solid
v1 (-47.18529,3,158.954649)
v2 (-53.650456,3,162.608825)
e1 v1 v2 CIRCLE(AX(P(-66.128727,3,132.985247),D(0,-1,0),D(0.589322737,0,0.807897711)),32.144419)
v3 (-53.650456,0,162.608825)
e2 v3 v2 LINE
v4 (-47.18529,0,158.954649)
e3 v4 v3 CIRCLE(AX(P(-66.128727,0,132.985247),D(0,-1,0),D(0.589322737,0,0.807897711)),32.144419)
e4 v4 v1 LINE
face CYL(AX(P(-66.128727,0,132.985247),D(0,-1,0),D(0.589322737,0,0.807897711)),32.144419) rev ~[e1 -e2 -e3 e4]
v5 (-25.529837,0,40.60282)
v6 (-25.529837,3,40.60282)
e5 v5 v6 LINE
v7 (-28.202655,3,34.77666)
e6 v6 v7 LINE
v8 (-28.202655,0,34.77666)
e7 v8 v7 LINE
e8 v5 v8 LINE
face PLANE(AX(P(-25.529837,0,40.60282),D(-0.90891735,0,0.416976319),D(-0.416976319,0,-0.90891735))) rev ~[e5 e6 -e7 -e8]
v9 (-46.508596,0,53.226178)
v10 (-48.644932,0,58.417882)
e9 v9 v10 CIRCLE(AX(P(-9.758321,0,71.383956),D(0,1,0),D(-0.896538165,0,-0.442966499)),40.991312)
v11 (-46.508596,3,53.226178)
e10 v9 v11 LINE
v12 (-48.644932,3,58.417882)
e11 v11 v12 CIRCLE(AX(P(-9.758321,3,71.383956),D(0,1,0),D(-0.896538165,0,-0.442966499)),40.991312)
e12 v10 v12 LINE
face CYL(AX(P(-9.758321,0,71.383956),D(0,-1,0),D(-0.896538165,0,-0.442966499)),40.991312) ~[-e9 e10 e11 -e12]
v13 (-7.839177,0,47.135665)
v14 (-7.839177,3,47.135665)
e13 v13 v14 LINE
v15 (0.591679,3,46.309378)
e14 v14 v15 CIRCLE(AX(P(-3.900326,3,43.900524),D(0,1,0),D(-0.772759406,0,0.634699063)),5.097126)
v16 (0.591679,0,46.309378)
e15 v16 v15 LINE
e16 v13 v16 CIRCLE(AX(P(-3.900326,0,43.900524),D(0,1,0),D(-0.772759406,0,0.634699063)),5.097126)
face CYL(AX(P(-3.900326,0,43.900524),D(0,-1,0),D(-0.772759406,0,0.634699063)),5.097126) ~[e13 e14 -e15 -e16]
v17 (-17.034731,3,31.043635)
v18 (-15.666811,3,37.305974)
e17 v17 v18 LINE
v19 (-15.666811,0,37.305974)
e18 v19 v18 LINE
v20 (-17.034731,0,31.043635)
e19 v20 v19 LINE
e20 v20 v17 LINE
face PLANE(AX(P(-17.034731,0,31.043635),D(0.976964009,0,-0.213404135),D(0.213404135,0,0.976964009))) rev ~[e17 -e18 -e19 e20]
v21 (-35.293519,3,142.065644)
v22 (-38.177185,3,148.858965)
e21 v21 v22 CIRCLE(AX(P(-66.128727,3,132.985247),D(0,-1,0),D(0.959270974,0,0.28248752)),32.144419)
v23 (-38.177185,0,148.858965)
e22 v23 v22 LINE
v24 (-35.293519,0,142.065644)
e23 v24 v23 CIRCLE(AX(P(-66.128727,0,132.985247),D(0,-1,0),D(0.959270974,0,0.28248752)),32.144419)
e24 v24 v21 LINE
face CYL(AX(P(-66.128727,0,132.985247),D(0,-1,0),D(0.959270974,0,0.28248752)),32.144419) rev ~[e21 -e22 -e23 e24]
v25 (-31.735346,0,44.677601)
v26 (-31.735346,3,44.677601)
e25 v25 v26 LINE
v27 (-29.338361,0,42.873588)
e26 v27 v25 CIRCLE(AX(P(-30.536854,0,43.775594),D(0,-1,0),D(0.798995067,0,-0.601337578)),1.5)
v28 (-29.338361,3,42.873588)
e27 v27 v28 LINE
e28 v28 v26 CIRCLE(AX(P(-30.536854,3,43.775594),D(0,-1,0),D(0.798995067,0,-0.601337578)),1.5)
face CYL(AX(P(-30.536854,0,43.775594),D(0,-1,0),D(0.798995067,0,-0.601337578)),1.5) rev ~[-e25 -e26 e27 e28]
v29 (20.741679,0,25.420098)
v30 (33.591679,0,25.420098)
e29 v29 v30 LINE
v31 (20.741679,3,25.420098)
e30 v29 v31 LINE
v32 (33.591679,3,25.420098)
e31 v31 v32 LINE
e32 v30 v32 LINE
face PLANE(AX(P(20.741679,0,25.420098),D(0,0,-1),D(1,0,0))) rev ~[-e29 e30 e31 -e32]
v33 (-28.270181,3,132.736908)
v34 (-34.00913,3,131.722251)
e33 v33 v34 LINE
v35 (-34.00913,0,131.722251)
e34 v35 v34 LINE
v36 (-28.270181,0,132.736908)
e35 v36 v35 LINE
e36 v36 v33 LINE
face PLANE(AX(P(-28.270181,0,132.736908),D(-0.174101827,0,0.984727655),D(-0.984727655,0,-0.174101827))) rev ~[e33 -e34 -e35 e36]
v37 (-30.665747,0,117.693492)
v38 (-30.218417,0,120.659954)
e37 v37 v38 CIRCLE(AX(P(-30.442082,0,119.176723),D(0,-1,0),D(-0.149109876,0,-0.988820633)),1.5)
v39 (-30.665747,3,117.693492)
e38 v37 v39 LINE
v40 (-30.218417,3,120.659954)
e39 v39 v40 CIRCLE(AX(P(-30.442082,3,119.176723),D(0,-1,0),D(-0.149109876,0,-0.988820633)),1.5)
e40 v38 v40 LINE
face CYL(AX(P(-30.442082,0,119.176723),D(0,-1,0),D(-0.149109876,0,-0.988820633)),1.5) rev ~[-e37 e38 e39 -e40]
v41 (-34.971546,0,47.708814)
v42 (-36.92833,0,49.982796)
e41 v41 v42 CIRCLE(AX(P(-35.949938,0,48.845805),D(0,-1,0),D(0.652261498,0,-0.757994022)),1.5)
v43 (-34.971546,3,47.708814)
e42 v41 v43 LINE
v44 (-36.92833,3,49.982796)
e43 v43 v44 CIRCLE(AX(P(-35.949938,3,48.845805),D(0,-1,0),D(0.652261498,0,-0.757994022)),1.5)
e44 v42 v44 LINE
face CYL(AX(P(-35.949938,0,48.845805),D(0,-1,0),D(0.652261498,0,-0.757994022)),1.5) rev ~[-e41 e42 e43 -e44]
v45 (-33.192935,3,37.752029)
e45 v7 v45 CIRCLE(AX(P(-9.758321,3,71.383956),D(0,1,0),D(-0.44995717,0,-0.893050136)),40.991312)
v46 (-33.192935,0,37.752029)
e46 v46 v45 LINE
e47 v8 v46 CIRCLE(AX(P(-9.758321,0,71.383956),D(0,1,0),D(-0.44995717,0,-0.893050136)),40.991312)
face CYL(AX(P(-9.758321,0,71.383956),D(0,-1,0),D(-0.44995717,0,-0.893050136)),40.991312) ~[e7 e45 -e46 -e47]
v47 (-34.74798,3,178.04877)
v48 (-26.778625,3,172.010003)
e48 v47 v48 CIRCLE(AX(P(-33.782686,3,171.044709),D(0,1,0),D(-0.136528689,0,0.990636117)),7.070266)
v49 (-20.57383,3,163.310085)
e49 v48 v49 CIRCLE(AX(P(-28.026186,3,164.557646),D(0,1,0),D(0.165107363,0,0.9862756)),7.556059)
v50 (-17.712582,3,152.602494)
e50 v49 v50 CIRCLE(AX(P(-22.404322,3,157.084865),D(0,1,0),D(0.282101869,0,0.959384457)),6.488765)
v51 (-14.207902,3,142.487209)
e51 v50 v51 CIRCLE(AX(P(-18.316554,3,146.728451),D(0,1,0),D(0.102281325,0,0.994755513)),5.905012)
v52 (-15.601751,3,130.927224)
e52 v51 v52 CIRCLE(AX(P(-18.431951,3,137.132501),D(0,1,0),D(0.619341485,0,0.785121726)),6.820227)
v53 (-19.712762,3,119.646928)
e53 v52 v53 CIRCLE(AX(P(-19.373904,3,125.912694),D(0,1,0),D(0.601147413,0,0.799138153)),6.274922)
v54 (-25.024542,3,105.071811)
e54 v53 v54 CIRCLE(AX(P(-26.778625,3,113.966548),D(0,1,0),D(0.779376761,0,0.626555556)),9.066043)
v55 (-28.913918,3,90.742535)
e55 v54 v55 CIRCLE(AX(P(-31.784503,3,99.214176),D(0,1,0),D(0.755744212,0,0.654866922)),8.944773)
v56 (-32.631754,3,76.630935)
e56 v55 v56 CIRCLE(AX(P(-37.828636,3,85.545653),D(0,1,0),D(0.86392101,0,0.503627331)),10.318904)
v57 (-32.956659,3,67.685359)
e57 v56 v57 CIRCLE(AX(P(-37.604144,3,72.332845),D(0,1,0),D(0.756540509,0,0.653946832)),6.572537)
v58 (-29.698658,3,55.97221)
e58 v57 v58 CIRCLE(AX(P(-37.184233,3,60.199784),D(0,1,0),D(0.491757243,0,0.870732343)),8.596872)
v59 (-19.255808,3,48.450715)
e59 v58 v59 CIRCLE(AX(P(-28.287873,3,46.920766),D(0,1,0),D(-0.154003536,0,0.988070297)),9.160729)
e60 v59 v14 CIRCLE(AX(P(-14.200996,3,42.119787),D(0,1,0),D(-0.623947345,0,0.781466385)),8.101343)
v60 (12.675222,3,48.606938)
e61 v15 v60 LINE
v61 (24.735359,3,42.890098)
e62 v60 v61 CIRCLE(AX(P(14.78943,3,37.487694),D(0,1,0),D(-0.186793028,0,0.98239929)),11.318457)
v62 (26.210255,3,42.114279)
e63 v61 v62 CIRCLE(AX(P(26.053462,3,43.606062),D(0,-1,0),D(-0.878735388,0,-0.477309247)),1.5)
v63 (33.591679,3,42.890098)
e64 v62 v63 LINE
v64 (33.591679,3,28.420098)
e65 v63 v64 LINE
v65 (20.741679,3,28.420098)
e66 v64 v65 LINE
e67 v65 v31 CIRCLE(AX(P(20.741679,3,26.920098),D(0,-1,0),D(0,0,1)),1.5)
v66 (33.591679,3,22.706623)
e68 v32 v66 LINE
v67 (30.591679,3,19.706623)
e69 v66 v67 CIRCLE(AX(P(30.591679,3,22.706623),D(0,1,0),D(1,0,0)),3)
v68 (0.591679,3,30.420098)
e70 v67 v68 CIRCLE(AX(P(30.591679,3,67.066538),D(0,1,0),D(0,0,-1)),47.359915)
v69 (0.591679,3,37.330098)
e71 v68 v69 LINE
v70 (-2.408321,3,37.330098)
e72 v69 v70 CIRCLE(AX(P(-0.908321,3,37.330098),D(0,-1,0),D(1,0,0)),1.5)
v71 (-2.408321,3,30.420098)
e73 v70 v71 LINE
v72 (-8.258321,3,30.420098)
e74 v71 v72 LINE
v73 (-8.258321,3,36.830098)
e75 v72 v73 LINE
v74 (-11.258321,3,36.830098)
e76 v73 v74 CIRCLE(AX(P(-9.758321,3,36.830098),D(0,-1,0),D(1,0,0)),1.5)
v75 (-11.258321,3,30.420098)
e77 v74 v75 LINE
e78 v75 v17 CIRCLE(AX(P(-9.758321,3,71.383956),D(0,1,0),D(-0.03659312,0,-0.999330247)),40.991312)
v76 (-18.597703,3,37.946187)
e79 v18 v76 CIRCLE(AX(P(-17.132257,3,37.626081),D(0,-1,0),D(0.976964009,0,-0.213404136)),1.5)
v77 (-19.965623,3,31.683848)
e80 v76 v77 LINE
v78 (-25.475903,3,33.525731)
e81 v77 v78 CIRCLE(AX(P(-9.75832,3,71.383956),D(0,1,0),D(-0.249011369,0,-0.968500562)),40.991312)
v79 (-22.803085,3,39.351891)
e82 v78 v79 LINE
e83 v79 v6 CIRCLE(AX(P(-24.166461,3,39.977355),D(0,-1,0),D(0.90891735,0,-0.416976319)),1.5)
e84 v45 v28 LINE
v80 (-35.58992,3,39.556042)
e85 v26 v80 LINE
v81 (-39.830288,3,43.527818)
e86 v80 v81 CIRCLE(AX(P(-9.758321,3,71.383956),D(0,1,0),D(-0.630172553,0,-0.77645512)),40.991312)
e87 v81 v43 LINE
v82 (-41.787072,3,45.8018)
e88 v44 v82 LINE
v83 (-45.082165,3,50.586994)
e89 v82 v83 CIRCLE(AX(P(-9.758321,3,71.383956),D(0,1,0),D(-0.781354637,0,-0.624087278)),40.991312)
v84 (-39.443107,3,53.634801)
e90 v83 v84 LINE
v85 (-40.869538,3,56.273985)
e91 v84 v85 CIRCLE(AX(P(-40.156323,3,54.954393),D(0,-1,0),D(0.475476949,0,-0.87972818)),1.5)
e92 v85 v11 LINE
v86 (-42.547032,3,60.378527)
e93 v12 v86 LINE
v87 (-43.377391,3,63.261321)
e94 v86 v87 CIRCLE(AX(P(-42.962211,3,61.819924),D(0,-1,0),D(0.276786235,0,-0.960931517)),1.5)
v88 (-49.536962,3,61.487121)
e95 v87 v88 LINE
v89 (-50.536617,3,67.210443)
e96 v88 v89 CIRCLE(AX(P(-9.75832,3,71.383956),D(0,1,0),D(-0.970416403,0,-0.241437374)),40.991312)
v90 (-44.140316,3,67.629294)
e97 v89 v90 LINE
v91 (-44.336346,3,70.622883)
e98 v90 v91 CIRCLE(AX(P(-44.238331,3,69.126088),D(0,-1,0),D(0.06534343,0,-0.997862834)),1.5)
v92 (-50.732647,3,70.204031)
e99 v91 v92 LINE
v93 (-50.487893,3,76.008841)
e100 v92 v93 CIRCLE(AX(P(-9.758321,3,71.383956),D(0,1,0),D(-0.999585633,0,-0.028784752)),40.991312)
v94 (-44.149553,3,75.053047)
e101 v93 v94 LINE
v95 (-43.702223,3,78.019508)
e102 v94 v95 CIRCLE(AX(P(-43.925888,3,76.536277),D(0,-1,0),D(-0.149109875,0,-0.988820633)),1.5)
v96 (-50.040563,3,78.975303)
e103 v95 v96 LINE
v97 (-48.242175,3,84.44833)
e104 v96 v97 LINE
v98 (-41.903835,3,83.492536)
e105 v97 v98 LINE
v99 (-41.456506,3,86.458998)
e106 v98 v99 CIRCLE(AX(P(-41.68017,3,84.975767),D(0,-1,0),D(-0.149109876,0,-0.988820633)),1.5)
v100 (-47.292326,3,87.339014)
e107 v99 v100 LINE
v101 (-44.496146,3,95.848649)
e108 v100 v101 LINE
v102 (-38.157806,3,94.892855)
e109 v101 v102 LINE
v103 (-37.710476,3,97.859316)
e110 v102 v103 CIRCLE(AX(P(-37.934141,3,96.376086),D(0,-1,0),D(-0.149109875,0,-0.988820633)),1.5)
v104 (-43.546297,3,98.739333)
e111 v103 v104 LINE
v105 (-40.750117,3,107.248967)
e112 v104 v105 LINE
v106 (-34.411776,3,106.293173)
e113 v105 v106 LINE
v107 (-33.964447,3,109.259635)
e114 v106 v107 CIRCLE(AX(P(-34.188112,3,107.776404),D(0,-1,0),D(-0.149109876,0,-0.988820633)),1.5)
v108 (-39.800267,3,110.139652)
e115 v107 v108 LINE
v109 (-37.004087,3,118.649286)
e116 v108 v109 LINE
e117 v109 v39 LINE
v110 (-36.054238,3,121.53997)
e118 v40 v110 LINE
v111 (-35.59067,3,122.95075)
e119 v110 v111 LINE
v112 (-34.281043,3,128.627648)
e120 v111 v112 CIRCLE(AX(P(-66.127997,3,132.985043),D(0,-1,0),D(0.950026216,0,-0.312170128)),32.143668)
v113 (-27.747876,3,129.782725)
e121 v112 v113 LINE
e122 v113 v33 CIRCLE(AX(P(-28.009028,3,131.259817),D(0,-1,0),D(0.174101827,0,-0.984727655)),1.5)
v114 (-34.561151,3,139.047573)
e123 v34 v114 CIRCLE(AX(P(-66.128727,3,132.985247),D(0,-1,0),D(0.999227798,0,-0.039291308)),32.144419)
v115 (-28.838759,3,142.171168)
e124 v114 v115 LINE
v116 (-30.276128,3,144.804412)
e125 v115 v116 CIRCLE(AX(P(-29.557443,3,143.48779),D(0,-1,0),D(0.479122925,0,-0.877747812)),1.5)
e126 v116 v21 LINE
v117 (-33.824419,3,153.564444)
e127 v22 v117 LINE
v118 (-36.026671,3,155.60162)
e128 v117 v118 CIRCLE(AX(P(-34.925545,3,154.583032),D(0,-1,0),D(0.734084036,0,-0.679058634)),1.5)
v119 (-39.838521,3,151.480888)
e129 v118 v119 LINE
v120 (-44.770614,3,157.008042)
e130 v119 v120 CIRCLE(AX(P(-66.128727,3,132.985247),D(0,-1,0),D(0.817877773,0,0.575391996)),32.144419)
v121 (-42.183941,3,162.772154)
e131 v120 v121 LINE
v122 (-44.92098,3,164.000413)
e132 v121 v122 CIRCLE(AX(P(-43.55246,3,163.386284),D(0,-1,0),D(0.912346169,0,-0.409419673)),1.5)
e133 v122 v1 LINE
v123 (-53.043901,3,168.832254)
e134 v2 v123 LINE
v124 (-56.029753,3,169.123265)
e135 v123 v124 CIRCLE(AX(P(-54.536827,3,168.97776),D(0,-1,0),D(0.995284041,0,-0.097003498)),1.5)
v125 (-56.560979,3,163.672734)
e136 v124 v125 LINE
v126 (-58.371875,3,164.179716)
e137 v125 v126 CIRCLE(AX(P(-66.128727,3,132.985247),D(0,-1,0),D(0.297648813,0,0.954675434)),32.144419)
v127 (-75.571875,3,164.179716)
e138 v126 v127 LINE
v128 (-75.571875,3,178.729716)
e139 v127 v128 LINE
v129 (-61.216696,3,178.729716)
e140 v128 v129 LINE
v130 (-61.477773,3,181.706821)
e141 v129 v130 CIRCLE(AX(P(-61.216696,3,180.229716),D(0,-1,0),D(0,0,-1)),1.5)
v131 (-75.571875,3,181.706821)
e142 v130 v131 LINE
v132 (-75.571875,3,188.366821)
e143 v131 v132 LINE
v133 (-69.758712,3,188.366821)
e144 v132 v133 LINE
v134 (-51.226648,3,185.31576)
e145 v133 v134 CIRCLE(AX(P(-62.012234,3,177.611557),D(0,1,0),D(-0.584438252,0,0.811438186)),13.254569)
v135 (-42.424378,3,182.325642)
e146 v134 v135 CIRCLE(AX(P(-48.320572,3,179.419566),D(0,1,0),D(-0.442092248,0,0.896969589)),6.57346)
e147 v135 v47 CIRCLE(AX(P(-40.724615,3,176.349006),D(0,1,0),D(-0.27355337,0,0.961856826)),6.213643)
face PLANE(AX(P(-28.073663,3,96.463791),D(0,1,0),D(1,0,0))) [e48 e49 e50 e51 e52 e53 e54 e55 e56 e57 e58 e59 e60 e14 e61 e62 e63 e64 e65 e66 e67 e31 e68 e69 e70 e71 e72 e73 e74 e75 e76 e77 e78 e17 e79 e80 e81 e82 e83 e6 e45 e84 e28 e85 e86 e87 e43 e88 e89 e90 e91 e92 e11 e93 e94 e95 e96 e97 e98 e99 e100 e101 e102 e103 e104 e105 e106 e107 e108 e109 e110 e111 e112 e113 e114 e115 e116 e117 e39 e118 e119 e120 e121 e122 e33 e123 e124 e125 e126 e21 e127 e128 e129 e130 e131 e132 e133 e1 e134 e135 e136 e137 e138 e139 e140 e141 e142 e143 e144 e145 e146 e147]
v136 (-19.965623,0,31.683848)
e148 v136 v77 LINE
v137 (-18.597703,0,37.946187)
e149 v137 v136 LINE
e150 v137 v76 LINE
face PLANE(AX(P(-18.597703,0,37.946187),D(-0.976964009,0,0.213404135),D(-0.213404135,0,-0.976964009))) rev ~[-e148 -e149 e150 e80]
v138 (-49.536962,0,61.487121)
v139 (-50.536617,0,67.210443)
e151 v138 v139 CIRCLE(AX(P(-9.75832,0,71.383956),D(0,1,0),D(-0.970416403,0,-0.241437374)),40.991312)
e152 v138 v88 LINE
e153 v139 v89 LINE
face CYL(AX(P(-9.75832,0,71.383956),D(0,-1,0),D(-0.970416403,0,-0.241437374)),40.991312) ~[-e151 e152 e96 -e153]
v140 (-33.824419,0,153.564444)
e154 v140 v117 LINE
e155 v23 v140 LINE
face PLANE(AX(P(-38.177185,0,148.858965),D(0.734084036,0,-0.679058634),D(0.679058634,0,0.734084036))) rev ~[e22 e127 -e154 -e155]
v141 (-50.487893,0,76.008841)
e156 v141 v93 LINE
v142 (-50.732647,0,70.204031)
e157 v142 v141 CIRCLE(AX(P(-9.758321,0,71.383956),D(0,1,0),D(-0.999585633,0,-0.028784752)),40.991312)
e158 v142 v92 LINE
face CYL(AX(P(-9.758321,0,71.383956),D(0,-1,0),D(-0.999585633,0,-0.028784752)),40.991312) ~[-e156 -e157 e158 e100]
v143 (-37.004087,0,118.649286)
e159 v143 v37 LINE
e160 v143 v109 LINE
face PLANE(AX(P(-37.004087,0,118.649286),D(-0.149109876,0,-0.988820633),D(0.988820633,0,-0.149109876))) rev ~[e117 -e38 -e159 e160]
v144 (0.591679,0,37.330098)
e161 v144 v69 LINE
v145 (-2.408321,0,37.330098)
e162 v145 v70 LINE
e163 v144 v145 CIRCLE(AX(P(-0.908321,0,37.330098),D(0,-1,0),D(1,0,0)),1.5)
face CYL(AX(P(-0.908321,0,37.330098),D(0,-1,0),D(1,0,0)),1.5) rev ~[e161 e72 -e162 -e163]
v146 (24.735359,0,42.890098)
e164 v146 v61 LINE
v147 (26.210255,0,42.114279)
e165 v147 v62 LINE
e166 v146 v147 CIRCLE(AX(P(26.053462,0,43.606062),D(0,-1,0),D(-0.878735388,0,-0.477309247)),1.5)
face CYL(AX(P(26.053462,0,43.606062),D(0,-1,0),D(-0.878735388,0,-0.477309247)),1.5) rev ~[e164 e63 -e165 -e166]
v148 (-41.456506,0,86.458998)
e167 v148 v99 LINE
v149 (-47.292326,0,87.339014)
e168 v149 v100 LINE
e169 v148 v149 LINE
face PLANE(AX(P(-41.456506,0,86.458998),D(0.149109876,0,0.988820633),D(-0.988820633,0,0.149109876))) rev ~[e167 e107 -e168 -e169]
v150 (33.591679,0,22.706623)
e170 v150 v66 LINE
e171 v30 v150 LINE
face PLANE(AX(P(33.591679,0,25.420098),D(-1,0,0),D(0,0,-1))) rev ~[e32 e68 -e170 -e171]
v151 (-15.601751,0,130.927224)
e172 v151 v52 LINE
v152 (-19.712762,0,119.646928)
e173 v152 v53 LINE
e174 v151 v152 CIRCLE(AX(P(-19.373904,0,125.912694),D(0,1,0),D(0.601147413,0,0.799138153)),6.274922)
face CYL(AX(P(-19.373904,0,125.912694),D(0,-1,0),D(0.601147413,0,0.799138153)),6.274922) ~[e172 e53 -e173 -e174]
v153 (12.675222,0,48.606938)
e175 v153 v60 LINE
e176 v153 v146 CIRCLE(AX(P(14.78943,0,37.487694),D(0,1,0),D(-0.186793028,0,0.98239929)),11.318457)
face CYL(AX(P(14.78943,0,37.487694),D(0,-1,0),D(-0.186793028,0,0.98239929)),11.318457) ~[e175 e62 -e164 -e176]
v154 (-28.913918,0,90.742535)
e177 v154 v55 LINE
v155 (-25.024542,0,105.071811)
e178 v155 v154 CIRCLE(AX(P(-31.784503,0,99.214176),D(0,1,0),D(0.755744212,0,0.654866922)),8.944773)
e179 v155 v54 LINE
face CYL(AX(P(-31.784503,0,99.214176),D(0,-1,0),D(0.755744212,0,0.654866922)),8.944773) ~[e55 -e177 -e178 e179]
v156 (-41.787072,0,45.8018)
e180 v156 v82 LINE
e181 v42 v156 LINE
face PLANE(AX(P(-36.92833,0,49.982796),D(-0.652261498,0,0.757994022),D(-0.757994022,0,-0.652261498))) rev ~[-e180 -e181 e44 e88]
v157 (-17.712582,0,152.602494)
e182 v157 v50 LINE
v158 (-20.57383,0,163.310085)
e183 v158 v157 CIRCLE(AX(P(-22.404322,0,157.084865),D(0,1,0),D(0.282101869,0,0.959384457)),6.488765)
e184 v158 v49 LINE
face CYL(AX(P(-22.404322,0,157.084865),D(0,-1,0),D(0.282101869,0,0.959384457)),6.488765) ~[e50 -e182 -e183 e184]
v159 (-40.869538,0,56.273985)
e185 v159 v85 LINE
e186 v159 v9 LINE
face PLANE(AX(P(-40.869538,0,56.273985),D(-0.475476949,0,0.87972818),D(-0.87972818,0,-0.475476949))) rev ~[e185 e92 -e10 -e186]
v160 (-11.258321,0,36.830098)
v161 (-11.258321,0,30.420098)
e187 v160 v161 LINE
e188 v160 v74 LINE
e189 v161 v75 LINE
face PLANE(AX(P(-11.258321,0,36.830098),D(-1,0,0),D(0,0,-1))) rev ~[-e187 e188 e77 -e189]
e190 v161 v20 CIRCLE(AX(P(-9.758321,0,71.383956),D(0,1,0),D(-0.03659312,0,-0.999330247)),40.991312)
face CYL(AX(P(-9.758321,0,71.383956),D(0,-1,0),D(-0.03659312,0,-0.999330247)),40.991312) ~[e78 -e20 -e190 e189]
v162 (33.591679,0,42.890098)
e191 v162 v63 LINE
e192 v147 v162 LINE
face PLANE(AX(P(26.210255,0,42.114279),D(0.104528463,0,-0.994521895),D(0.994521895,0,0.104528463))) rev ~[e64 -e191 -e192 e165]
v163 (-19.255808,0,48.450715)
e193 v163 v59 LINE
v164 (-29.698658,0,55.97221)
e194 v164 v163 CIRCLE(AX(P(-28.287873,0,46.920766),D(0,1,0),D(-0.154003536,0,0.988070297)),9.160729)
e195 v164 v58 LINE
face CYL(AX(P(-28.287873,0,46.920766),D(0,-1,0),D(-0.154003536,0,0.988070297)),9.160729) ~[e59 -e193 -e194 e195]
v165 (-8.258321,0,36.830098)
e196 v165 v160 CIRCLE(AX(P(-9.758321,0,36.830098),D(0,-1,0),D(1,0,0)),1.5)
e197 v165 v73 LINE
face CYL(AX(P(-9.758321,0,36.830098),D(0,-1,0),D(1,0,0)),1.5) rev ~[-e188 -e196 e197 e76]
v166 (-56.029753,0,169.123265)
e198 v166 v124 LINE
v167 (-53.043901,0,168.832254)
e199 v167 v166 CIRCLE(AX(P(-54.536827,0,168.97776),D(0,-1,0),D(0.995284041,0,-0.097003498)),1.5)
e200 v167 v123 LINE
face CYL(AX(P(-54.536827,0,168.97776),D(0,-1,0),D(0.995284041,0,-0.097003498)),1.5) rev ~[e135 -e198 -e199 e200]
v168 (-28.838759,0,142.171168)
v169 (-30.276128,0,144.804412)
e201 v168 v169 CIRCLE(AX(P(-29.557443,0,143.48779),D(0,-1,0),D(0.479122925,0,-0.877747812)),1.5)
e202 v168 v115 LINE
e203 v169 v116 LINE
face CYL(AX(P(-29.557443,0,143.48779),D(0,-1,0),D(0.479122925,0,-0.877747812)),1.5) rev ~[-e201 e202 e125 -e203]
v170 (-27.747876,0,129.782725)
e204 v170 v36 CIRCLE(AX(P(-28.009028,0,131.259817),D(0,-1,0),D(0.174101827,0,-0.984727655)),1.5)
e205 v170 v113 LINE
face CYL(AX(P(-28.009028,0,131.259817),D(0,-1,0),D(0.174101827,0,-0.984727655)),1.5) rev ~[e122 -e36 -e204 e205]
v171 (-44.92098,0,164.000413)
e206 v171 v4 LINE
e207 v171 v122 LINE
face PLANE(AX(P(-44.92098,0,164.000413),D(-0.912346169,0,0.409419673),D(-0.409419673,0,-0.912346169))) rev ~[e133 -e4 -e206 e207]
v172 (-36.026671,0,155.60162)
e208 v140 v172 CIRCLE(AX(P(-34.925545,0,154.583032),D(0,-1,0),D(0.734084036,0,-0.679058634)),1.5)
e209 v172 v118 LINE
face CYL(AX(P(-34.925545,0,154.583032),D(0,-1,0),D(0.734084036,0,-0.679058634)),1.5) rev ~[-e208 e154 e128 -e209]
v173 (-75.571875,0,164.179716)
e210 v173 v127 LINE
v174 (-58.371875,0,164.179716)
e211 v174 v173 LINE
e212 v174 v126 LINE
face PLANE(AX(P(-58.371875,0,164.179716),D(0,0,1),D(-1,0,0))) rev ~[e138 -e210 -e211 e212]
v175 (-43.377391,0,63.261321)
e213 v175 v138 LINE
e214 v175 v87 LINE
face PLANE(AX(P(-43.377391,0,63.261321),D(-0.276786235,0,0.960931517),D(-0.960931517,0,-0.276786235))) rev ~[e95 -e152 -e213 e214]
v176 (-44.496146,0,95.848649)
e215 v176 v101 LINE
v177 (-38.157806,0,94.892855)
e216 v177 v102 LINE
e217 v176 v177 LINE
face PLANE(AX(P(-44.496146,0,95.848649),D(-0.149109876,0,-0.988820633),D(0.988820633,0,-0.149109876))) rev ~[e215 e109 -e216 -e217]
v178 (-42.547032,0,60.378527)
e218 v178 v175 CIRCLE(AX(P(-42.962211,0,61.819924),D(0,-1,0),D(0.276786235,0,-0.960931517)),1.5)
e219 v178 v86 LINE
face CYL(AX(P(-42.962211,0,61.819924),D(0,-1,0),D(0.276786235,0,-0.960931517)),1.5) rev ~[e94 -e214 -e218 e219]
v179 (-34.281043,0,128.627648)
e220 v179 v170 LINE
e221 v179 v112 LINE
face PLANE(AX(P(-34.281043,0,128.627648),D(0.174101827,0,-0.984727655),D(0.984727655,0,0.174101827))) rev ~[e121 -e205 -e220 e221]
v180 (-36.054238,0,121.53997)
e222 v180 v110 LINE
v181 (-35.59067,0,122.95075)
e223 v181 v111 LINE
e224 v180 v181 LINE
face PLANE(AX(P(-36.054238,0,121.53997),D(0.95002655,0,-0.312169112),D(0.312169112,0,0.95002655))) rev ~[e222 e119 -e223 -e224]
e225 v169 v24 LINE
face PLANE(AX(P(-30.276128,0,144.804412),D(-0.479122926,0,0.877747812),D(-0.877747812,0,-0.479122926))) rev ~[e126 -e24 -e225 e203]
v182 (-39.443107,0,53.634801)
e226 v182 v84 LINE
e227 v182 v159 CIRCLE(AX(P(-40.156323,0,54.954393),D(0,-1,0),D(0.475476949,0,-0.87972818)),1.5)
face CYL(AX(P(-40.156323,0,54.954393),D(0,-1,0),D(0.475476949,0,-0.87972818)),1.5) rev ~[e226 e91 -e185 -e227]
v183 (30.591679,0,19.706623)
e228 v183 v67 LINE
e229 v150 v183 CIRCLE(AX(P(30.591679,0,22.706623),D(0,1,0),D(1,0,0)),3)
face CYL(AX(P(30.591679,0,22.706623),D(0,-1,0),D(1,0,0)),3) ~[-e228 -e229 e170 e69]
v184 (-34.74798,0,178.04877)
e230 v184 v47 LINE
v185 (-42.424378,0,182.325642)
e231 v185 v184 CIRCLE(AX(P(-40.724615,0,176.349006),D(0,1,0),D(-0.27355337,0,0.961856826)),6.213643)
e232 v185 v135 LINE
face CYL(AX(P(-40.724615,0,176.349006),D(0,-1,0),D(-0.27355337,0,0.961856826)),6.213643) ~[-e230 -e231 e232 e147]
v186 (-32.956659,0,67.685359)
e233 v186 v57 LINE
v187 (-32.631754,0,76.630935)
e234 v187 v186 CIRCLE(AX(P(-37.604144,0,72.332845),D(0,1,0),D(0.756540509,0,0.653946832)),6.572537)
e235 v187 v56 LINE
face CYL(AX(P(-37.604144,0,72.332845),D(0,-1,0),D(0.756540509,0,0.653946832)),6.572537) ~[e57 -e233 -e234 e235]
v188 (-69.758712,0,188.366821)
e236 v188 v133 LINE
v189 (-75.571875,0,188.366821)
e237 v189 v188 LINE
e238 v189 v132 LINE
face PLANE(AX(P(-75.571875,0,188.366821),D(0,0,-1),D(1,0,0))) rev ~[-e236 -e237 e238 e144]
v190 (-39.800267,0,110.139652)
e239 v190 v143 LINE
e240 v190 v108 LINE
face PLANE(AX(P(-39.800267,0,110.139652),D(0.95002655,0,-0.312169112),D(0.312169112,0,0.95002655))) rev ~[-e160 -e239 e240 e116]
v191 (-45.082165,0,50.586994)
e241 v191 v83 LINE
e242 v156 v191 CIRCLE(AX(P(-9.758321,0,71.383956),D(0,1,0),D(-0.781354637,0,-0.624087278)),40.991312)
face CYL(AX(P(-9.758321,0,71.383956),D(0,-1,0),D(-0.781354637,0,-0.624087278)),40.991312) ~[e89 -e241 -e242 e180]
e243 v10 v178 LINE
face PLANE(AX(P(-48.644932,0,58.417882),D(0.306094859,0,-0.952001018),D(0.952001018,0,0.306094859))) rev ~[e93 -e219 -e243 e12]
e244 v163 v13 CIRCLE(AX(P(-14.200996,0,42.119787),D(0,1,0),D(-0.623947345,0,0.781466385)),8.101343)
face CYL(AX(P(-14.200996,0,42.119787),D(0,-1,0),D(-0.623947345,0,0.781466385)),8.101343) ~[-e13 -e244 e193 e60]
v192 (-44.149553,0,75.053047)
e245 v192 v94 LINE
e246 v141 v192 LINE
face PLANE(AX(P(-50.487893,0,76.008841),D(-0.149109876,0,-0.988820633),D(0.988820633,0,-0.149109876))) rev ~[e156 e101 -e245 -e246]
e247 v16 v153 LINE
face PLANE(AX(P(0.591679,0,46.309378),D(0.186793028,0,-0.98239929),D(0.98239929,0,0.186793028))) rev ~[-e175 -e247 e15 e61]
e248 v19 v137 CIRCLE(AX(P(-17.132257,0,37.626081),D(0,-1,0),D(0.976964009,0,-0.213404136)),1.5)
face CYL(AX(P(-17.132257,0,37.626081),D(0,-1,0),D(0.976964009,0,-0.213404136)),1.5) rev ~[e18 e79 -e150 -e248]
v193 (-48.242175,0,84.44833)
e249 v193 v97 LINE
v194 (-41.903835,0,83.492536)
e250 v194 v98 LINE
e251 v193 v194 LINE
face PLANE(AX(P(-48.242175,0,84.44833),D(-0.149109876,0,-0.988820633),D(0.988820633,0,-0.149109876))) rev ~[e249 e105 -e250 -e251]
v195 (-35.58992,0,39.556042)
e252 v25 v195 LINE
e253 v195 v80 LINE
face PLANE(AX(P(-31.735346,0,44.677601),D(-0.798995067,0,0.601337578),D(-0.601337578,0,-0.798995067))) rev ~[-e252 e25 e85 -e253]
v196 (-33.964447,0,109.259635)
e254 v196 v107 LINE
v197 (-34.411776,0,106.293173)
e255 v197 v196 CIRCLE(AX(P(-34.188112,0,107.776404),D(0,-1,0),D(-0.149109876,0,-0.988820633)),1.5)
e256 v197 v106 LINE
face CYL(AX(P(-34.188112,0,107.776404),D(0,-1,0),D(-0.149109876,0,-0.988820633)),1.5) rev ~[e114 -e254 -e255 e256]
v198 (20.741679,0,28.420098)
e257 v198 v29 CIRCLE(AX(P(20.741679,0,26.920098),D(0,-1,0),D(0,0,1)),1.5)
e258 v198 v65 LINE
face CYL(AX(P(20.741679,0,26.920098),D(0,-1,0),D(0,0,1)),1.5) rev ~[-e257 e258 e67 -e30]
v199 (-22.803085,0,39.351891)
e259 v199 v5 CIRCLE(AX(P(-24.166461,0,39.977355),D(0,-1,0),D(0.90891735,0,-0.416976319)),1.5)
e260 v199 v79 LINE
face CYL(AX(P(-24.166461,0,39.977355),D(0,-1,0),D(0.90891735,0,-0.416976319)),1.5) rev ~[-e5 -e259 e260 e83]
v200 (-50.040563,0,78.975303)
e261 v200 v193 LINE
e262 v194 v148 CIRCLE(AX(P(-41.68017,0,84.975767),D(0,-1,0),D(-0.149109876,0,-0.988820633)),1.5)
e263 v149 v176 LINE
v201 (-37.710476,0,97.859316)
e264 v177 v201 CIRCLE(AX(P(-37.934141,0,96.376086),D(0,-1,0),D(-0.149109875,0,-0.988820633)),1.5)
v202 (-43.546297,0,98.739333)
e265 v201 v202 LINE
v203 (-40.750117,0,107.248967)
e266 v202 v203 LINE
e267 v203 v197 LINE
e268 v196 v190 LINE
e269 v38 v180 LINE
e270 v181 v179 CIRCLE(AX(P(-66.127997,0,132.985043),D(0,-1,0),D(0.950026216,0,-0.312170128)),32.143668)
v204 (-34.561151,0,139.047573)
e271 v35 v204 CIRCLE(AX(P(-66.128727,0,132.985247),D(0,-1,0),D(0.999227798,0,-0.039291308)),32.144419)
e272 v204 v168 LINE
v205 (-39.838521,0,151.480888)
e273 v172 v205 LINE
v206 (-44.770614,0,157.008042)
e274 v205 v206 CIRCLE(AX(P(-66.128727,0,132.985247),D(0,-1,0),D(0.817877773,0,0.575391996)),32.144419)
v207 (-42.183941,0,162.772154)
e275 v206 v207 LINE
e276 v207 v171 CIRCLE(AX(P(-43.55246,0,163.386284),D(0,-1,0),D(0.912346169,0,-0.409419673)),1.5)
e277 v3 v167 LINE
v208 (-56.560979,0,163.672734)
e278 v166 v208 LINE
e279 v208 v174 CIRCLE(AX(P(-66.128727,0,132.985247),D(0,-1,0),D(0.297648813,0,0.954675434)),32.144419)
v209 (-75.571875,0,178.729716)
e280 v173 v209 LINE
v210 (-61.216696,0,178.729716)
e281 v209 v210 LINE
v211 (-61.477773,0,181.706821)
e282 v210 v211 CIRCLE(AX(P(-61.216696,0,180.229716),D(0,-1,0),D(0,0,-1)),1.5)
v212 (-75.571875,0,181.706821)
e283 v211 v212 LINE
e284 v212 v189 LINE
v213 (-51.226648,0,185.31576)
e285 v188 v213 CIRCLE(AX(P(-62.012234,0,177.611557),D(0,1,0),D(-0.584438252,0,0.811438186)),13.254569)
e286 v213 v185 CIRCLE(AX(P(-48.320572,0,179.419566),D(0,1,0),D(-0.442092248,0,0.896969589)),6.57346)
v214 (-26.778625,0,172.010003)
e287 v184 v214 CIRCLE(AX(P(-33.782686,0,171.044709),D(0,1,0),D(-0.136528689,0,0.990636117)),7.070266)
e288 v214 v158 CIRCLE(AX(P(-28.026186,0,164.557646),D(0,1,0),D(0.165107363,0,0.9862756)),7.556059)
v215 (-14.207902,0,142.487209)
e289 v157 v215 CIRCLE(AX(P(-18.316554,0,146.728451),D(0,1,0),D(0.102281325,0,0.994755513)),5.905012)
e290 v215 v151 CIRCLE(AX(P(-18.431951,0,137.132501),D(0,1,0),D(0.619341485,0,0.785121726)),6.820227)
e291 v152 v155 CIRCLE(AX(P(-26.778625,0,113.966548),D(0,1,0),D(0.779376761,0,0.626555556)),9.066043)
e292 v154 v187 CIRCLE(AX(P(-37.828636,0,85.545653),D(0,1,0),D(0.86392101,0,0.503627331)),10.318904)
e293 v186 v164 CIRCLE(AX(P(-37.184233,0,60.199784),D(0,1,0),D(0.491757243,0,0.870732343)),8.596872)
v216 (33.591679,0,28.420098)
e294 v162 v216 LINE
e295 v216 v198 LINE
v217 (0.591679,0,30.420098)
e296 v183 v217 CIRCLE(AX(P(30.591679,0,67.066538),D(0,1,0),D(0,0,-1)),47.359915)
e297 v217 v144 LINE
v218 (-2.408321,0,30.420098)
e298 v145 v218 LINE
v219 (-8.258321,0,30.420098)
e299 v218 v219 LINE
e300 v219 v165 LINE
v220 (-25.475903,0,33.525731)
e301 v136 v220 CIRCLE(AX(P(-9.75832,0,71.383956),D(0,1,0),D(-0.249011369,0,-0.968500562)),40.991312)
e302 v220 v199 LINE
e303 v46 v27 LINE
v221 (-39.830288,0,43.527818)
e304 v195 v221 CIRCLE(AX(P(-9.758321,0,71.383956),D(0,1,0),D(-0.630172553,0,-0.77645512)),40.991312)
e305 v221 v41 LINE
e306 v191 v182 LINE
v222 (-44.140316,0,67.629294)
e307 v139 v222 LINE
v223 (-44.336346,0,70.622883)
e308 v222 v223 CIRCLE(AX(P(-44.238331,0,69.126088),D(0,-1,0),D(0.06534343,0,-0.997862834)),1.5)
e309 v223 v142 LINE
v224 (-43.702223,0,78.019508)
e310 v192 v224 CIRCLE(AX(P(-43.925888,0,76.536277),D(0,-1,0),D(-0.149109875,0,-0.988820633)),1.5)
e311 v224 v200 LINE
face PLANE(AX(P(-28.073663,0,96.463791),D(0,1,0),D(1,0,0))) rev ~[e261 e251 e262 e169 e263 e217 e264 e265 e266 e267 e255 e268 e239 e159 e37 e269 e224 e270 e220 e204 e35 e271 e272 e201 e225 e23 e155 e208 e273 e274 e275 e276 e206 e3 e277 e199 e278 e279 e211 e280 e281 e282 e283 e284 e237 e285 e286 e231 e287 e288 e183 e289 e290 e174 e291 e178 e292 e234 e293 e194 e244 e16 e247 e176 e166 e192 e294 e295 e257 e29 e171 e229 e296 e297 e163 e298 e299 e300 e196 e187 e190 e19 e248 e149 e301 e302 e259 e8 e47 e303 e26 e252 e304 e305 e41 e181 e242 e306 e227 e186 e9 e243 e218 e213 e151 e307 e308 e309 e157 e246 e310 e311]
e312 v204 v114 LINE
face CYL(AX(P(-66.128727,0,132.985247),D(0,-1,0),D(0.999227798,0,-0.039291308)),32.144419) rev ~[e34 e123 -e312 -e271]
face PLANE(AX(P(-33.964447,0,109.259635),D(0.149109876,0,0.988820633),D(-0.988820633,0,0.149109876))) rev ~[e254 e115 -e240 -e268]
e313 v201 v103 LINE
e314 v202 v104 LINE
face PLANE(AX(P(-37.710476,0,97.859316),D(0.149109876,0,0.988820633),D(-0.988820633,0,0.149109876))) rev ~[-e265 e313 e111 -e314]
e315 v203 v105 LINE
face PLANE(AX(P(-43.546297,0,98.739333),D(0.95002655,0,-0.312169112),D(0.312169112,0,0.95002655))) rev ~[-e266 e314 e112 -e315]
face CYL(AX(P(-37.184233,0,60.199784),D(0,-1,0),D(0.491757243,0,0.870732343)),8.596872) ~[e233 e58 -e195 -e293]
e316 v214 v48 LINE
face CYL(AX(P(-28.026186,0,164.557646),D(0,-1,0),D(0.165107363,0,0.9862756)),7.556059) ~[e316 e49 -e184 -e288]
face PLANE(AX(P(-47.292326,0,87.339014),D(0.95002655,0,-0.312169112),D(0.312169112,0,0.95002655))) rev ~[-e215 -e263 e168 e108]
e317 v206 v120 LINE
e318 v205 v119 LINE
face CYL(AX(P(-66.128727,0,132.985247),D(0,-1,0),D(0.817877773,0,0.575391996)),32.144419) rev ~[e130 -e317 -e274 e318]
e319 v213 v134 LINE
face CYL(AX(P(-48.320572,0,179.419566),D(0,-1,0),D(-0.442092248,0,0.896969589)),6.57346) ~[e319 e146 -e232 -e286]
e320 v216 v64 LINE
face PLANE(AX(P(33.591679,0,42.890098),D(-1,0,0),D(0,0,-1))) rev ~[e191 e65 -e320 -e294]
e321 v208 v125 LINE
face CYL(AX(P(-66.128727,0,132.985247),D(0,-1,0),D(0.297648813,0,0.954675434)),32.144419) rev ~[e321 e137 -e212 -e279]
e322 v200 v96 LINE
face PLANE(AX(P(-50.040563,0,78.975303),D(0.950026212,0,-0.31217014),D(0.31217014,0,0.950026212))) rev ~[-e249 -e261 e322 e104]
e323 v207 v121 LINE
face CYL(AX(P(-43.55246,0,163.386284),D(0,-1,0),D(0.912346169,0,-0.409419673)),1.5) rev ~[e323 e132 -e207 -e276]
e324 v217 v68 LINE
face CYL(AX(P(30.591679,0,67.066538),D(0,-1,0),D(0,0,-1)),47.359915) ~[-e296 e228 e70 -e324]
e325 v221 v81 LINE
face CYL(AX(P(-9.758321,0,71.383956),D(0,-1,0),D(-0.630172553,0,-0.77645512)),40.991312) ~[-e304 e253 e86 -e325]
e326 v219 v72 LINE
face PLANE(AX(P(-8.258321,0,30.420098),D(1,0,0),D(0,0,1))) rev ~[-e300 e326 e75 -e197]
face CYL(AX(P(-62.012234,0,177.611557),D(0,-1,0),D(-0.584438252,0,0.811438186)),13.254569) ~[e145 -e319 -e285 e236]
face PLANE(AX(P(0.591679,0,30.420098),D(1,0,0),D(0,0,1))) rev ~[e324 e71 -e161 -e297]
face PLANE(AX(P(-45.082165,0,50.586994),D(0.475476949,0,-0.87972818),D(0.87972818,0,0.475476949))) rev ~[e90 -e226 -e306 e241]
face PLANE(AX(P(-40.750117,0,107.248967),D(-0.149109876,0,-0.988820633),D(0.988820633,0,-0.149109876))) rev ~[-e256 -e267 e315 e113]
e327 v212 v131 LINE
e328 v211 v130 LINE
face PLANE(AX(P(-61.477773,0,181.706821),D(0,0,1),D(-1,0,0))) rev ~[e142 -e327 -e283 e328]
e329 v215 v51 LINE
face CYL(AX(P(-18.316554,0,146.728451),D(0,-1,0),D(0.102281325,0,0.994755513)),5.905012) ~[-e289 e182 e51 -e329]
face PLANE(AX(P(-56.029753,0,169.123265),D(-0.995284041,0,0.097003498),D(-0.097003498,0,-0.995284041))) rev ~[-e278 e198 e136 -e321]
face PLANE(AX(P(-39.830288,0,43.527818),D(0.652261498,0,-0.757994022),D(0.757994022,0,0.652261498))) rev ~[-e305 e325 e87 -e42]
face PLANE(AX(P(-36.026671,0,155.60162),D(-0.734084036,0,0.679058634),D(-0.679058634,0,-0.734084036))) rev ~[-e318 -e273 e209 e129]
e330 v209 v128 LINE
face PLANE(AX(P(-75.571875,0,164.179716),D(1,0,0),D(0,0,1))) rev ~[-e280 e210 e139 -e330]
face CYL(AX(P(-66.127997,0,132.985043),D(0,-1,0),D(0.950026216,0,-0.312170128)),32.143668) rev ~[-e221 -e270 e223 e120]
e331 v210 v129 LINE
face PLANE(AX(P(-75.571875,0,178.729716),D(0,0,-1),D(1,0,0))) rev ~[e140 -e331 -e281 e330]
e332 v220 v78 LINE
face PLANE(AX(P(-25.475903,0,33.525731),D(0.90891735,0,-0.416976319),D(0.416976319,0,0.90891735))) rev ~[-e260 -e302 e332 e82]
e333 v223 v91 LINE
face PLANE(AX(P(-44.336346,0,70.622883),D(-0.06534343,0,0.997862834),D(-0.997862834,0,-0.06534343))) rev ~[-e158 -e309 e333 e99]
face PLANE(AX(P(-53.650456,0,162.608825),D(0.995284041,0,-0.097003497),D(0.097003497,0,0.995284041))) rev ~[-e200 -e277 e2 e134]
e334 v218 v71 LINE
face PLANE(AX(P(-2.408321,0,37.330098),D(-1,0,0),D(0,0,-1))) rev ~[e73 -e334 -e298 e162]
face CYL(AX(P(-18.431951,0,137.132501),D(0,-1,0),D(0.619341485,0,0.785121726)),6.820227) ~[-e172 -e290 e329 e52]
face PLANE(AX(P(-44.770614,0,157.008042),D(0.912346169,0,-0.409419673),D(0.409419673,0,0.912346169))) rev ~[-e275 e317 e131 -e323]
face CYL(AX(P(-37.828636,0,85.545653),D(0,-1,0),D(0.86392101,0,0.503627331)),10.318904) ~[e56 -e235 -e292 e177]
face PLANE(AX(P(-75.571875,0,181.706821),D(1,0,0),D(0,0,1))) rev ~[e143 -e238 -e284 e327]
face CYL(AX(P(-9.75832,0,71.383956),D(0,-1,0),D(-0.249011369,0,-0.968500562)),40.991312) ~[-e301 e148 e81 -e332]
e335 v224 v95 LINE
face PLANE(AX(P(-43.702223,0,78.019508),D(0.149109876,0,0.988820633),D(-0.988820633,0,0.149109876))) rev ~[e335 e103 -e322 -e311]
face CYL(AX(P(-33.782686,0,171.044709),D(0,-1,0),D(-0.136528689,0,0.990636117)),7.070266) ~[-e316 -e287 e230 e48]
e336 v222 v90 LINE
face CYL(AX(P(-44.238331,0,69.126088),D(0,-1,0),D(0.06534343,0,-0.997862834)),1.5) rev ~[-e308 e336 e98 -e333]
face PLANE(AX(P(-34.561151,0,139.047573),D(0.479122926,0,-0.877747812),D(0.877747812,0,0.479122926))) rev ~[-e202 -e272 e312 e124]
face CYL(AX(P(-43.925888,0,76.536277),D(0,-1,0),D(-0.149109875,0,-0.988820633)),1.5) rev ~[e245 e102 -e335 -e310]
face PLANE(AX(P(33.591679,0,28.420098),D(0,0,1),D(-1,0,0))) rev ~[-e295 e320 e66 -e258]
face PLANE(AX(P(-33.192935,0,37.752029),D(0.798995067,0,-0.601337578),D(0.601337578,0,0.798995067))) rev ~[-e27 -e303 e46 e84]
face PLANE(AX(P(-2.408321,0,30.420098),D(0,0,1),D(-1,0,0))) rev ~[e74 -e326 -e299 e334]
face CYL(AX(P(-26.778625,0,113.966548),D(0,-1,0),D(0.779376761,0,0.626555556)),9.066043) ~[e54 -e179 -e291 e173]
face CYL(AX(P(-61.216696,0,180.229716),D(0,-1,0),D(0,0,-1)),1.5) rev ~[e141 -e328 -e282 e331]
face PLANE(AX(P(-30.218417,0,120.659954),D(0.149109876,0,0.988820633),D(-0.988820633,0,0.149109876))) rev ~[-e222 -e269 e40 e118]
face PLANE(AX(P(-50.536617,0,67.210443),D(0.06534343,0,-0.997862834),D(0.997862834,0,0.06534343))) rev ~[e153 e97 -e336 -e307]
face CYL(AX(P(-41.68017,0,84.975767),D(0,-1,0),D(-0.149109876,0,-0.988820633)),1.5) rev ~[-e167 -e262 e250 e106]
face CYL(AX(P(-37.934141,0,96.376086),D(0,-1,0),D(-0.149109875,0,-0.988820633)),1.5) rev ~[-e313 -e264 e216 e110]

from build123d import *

# Parameters (mm, degrees)
BOSS_EXTRUDE1_DEPTH = 3


with BuildPart() as part:
    # Sketch3 → Boss-Extrude1 (new body)
    with BuildSketch(Plane(origin=(0, 0, 0), x_dir=(1, 0, 0), z_dir=(0, 1, 0))):
        with BuildLine():
            Line((0.591679445, -30.420098318), (0.591679445, -37.330098318))
            ThreePointArc((0.591679445, -37.330098318), (-0.908320555, -38.830098318), (-2.408320555, -37.330098318))
            Line((-2.408320555, -37.330098318), (-2.408320555, -30.420098318))
            Line((-2.408320555, -30.420098318), (-8.258320555, -30.420098318))
            Line((-8.258320555, -30.420098318), (-8.258320555, -36.830098318))
            ThreePointArc((-8.258320555, -36.830098318), (-9.758320555, -38.330098318), (-11.258320555, -36.830098318))
            Line((-11.258320555, -36.830098318), (-11.258320555, -30.420098318))
            ThreePointArc((-11.258320555, -30.420098318), (-14.157587017, -30.629396859), (-17.034731178, -31.04363517))
            Line((-17.034731178, -31.04363517), (-15.66681067, -37.305974468))
            ThreePointArc((-15.66681067, -37.305974468), (-16.812150481, -39.091526685), (-18.597702697, -37.946186875))
            Line((-18.597702697, -37.946186875), (-19.965623205, -31.683847576))
            ThreePointArc((-19.965623205, -31.683847576), (-22.753437017, -32.507040171), (-25.475903143, -33.525730554))
            Line((-25.475903143, -33.525730554), (-22.803084936, -39.351890767))
            ThreePointArc((-22.803084936, -39.351890767), (-23.540996482, -41.340731271), (-25.529836986, -40.602819725))
            Line((-25.529836986, -40.602819725), (-28.202655193, -34.776659512))
            ThreePointArc((-28.202655193, -34.776659512), (-30.750576247, -36.175820045), (-33.192934927, -37.752029415))
            Line((-33.192934927, -37.752029415), (-29.338361053, -42.873587796))
            ThreePointArc((-29.338361053, -42.873587796), (-29.634847287, -44.974086764), (-31.735346255, -44.67760053))
            Line((-31.735346255, -44.67760053), (-35.589920129, -39.556042149))
            ThreePointArc((-35.589920129, -39.556042149), (-37.780560653, -41.466708522), (-39.830287583, -43.52781779))
            Line((-39.830287583, -43.52781779), (-34.9715459, -47.708813994))
            ThreePointArc((-34.9715459, -47.708813994), (-34.812947114, -49.824197275), (-36.928330395, -49.982796061))
            Line((-36.928330395, -49.982796061), (-41.787072078, -45.801799857))
            ThreePointArc((-41.787072078, -45.801799857), (-43.519504922, -48.135943884), (-45.082165119, -50.586993661))
            Line((-45.082165119, -50.586993661), (-39.443107485, -53.634800906))
            ThreePointArc((-39.443107485, -53.634800906), (-38.836730639, -55.6676086), (-40.869538333, -56.273985446))
            Line((-40.869538333, -56.273985446), (-46.508595967, -53.226178201))
            ThreePointArc((-46.508595967, -53.226178201), (-47.665748765, -55.785413628), (-48.644932096, -58.417881781))
            Line((-48.644932096, -58.417881781), (-42.547032105, -60.378526572))
            ThreePointArc((-42.547032105, -60.378526572), (-41.520814182, -62.235103199), (-43.37739081, -63.261321122))
            Line((-43.37739081, -63.261321122), (-49.536961833, -61.487121356))
            ThreePointArc((-49.536961833, -61.487121356), (-50.138317317, -64.33104883), (-50.536616569, -67.210442795))
            Line((-50.536616569, -67.210442795), (-44.140315801, -67.629294183))
            ThreePointArc((-44.140315801, -67.629294183), (-42.741536695, -69.22410358), (-44.336346092, -70.622882686))
            Line((-44.336346092, -70.622882686), (-50.73264686, -70.204031298))
            ThreePointArc((-50.73264686, -70.204031298), (-50.713243641, -73.110777832), (-50.487893094, -76.008840811))
            Line((-50.487893094, -76.008840811), (-44.149552834, -75.053046508))
            ThreePointArc((-44.149552834, -75.053046508), (-42.442657071, -76.312612644), (-43.702223207, -78.019508408))
            Line((-43.702223207, -78.019508408), (-50.040563467, -78.975302711))
            Line((-50.040563467, -78.975302711), (-48.242175426, -84.448330276))
            Line((-48.242175426, -84.448330276), (-41.903835167, -83.492535972))
            ThreePointArc((-41.903835167, -83.492535972), (-40.196939403, -84.752102109), (-41.456505539, -86.458997873))
            Line((-41.456505539, -86.458997873), (-47.292325887, -87.339014346))
            Line((-47.292325887, -87.339014346), (-44.496146078, -95.848648873))
            Line((-44.496146078, -95.848648873), (-38.157805818, -94.89285457))
            ThreePointArc((-38.157805818, -94.89285457), (-36.450910055, -96.152420706), (-37.710476191, -97.85931647))
            Line((-37.710476191, -97.85931647), (-43.546296539, -98.739332944))
            Line((-43.546296539, -98.739332944), (-40.75011673, -107.248967471))
            Line((-40.75011673, -107.248967471), (-34.41177647, -106.293173167))
            ThreePointArc((-34.41177647, -106.293173167), (-32.704880706, -107.552739304), (-33.964446843, -109.259635067))
            Line((-33.964446843, -109.259635067), (-39.800267191, -110.139651541))
            Line((-39.800267191, -110.139651541), (-37.004087382, -118.649286068))
            Line((-37.004087382, -118.649286068), (-30.665747122, -117.693491765))
            ThreePointArc((-30.665747122, -117.693491765), (-28.958851358, -118.953057901), (-30.218417495, -120.659953665))
            Line((-30.218417495, -120.659953665), (-36.054237843, -121.539970138))
            Line((-36.054237843, -121.539970138), (-35.590669818, -122.95075011))
            ThreePointArc((-35.590669818, -122.95075011), (-34.806974696, -125.75946708), (-34.281042725, -128.627648207))
            Line((-34.281042725, -128.627648207), (-27.747875517, -129.78272529))
            ThreePointArc((-27.747875517, -129.78272529), (-26.531936776, -131.520969513), (-28.270180998, -132.736908254))
            Line((-28.270180998, -132.736908254), (-34.00913019, -131.722250511))
            ThreePointArc((-34.00913019, -131.722250511), (-34.075192309, -135.400732769), (-34.561150831, -139.04757253))
            Line((-34.561150831, -139.04757253), (-28.838758854, -142.17116811))
            ThreePointArc((-28.838758854, -142.17116811), (-28.240821524, -144.206474217), (-30.276127631, -144.804411546))
            Line((-30.276127631, -144.804411546), (-35.2935191, -142.065643934))
            ThreePointArc((-35.2935191, -142.065643934), (-36.539745877, -145.545336545), (-38.177184694, -148.858965366))
            Line((-38.177184694, -148.858965366), (-33.824418851, -153.564444036))
            ThreePointArc((-33.824418851, -153.564444036), (-33.906956954, -155.68415804), (-36.026670958, -155.601619937))
            Line((-36.026670958, -155.601619937), (-39.838521376, -151.480888091))
            ThreePointArc((-39.838521376, -151.480888091), (-42.144817333, -154.387016255), (-44.770614017, -157.008041575))
            Line((-44.770614017, -157.008041575), (-42.183941003, -162.772154464))
            ThreePointArc((-42.183941003, -162.772154464), (-42.938330746, -164.754803226), (-44.920979509, -164.000413483))
            Line((-44.920979509, -164.000413483), (-47.185290179, -158.954649194))
            ThreePointArc((-47.185290179, -158.954649194), (-50.311989567, -160.96907207), (-53.650455908, -162.608825429))
            Line((-53.650455908, -162.608825429), (-53.043901057, -168.832254262))
            ThreePointArc((-53.043901057, -168.832254262), (-54.391321871, -170.470685569), (-56.029753178, -169.123264755))
            Line((-56.029753178, -169.123264755), (-56.560978983, -163.672733804))
            ThreePointArc((-56.560978983, -163.672733804), (-57.462718747, -163.939470451), (-58.371875015, -164.179715994))
            Line((-58.371875015, -164.179715994), (-75.571875015, -164.179715994))
            Line((-75.571875015, -164.179715994), (-75.571875015, -178.729715994))
            Line((-75.571875015, -178.729715994), (-61.216696476, -178.729715994))
            ThreePointArc((-61.216696476, -178.729715994), (-59.722431212, -180.360755387), (-61.477773293, -181.706820898))
            Line((-61.477773293, -181.706820898), (-75.571875015, -181.706820898))
            Line((-75.571875015, -181.706820898), (-75.571875015, -188.366820898))
            Line((-75.571875015, -188.366820898), (-69.758711754, -188.366820898))
            ThreePointArc((-69.758711754, -188.366820898), (-59.859029923, -190.690063204), (-51.226648029, -185.315759714))
            ThreePointArc((-51.226648029, -185.315759714), (-46.206239367, -185.643710412), (-42.424378195, -182.325641566))
            ThreePointArc((-42.424378195, -182.325641566), (-37.700409933, -181.777039638), (-34.747980084, -178.048769502))
            ThreePointArc((-34.747980084, -178.048769502), (-29.512633217, -176.679893654), (-26.778625341, -172.010002988))
            ThreePointArc((-26.778625341, -172.010002988), (-21.874415441, -168.945099351), (-20.57382951, -163.310085129))
            ThreePointArc((-20.57382951, -163.310085129), (-16.135510008, -158.759996314), (-17.712581879, -152.602494179))
            ThreePointArc((-17.712581879, -152.602494179), (-12.736952388, -148.661636396), (-14.20790203, -142.487208808))
            ThreePointArc((-14.20790203, -142.487208808), (-11.660768143, -136.316062867), (-15.601751117, -130.927223803))
            ThreePointArc((-15.601751117, -130.927223803), (-13.478300165, -123.764089753), (-19.712761754, -119.646927859))
            ThreePointArc((-19.712761754, -119.646927859), (-18.260622737, -110.862232301), (-25.024542476, -105.071811459))
            ThreePointArc((-25.024542476, -105.071811459), (-23.152070063, -96.871086954), (-28.913917519, -90.742534985))
            ThreePointArc((-28.913917519, -90.742534985), (-27.85022737, -82.916745733), (-32.6317535, -76.630934567))
            ThreePointArc((-32.6317535, -76.630934567), (-31.035937746, -72.094286151), (-32.956658516, -67.685359014))
            ThreePointArc((-32.956658516, -67.685359014), (-28.901785775, -62.503538673), (-29.698658066, -55.972210359))
            ThreePointArc((-29.698658066, -55.972210359), (-22.933977183, -54.354119985), (-19.255807876, -48.450714658))
            ThreePointArc((-19.255807876, -48.450714658), (-13.273954555, -50.167914793), (-7.839177287, -47.135664555))
            ThreePointArc((-7.839177287, -47.135664555), (-3.40315163, -48.973344156), (0.591679445, -46.309378199))
            Line((0.591679445, -46.309378199), (12.675221537, -48.606938304))
            ThreePointArc((12.675221537, -48.606938304), (19.637576869, -47.715252301), (24.735359205, -42.890098318))
            ThreePointArc((24.735359205, -42.890098318), (25.355154173, -42.278520936), (26.210254983, -42.114279345))
            Line((26.210254983, -42.114279345), (33.591679445, -42.890098318))
            Line((33.591679445, -42.890098318), (33.591679445, -28.420098318))
            Line((33.591679445, -28.420098318), (20.741679445, -28.420098318))
            ThreePointArc((20.741679445, -28.420098318), (19.241679445, -26.920098318), (20.741679445, -25.420098318))
            Line((20.741679445, -25.420098318), (33.591679445, -25.420098318))
            Line((33.591679445, -25.420098318), (33.591679445, -22.706623157))
            ThreePointArc((33.591679445, -22.706623157), (32.712999789, -20.585302814), (30.591679445, -19.706623157))
            ThreePointArc((30.591679445, -19.706623157), (14.663884949, -22.465339604), (0.591679445, -30.420098318))
        make_face()
    extrude(amount=BOSS_EXTRUDE1_DEPTH)


solid = part.part
